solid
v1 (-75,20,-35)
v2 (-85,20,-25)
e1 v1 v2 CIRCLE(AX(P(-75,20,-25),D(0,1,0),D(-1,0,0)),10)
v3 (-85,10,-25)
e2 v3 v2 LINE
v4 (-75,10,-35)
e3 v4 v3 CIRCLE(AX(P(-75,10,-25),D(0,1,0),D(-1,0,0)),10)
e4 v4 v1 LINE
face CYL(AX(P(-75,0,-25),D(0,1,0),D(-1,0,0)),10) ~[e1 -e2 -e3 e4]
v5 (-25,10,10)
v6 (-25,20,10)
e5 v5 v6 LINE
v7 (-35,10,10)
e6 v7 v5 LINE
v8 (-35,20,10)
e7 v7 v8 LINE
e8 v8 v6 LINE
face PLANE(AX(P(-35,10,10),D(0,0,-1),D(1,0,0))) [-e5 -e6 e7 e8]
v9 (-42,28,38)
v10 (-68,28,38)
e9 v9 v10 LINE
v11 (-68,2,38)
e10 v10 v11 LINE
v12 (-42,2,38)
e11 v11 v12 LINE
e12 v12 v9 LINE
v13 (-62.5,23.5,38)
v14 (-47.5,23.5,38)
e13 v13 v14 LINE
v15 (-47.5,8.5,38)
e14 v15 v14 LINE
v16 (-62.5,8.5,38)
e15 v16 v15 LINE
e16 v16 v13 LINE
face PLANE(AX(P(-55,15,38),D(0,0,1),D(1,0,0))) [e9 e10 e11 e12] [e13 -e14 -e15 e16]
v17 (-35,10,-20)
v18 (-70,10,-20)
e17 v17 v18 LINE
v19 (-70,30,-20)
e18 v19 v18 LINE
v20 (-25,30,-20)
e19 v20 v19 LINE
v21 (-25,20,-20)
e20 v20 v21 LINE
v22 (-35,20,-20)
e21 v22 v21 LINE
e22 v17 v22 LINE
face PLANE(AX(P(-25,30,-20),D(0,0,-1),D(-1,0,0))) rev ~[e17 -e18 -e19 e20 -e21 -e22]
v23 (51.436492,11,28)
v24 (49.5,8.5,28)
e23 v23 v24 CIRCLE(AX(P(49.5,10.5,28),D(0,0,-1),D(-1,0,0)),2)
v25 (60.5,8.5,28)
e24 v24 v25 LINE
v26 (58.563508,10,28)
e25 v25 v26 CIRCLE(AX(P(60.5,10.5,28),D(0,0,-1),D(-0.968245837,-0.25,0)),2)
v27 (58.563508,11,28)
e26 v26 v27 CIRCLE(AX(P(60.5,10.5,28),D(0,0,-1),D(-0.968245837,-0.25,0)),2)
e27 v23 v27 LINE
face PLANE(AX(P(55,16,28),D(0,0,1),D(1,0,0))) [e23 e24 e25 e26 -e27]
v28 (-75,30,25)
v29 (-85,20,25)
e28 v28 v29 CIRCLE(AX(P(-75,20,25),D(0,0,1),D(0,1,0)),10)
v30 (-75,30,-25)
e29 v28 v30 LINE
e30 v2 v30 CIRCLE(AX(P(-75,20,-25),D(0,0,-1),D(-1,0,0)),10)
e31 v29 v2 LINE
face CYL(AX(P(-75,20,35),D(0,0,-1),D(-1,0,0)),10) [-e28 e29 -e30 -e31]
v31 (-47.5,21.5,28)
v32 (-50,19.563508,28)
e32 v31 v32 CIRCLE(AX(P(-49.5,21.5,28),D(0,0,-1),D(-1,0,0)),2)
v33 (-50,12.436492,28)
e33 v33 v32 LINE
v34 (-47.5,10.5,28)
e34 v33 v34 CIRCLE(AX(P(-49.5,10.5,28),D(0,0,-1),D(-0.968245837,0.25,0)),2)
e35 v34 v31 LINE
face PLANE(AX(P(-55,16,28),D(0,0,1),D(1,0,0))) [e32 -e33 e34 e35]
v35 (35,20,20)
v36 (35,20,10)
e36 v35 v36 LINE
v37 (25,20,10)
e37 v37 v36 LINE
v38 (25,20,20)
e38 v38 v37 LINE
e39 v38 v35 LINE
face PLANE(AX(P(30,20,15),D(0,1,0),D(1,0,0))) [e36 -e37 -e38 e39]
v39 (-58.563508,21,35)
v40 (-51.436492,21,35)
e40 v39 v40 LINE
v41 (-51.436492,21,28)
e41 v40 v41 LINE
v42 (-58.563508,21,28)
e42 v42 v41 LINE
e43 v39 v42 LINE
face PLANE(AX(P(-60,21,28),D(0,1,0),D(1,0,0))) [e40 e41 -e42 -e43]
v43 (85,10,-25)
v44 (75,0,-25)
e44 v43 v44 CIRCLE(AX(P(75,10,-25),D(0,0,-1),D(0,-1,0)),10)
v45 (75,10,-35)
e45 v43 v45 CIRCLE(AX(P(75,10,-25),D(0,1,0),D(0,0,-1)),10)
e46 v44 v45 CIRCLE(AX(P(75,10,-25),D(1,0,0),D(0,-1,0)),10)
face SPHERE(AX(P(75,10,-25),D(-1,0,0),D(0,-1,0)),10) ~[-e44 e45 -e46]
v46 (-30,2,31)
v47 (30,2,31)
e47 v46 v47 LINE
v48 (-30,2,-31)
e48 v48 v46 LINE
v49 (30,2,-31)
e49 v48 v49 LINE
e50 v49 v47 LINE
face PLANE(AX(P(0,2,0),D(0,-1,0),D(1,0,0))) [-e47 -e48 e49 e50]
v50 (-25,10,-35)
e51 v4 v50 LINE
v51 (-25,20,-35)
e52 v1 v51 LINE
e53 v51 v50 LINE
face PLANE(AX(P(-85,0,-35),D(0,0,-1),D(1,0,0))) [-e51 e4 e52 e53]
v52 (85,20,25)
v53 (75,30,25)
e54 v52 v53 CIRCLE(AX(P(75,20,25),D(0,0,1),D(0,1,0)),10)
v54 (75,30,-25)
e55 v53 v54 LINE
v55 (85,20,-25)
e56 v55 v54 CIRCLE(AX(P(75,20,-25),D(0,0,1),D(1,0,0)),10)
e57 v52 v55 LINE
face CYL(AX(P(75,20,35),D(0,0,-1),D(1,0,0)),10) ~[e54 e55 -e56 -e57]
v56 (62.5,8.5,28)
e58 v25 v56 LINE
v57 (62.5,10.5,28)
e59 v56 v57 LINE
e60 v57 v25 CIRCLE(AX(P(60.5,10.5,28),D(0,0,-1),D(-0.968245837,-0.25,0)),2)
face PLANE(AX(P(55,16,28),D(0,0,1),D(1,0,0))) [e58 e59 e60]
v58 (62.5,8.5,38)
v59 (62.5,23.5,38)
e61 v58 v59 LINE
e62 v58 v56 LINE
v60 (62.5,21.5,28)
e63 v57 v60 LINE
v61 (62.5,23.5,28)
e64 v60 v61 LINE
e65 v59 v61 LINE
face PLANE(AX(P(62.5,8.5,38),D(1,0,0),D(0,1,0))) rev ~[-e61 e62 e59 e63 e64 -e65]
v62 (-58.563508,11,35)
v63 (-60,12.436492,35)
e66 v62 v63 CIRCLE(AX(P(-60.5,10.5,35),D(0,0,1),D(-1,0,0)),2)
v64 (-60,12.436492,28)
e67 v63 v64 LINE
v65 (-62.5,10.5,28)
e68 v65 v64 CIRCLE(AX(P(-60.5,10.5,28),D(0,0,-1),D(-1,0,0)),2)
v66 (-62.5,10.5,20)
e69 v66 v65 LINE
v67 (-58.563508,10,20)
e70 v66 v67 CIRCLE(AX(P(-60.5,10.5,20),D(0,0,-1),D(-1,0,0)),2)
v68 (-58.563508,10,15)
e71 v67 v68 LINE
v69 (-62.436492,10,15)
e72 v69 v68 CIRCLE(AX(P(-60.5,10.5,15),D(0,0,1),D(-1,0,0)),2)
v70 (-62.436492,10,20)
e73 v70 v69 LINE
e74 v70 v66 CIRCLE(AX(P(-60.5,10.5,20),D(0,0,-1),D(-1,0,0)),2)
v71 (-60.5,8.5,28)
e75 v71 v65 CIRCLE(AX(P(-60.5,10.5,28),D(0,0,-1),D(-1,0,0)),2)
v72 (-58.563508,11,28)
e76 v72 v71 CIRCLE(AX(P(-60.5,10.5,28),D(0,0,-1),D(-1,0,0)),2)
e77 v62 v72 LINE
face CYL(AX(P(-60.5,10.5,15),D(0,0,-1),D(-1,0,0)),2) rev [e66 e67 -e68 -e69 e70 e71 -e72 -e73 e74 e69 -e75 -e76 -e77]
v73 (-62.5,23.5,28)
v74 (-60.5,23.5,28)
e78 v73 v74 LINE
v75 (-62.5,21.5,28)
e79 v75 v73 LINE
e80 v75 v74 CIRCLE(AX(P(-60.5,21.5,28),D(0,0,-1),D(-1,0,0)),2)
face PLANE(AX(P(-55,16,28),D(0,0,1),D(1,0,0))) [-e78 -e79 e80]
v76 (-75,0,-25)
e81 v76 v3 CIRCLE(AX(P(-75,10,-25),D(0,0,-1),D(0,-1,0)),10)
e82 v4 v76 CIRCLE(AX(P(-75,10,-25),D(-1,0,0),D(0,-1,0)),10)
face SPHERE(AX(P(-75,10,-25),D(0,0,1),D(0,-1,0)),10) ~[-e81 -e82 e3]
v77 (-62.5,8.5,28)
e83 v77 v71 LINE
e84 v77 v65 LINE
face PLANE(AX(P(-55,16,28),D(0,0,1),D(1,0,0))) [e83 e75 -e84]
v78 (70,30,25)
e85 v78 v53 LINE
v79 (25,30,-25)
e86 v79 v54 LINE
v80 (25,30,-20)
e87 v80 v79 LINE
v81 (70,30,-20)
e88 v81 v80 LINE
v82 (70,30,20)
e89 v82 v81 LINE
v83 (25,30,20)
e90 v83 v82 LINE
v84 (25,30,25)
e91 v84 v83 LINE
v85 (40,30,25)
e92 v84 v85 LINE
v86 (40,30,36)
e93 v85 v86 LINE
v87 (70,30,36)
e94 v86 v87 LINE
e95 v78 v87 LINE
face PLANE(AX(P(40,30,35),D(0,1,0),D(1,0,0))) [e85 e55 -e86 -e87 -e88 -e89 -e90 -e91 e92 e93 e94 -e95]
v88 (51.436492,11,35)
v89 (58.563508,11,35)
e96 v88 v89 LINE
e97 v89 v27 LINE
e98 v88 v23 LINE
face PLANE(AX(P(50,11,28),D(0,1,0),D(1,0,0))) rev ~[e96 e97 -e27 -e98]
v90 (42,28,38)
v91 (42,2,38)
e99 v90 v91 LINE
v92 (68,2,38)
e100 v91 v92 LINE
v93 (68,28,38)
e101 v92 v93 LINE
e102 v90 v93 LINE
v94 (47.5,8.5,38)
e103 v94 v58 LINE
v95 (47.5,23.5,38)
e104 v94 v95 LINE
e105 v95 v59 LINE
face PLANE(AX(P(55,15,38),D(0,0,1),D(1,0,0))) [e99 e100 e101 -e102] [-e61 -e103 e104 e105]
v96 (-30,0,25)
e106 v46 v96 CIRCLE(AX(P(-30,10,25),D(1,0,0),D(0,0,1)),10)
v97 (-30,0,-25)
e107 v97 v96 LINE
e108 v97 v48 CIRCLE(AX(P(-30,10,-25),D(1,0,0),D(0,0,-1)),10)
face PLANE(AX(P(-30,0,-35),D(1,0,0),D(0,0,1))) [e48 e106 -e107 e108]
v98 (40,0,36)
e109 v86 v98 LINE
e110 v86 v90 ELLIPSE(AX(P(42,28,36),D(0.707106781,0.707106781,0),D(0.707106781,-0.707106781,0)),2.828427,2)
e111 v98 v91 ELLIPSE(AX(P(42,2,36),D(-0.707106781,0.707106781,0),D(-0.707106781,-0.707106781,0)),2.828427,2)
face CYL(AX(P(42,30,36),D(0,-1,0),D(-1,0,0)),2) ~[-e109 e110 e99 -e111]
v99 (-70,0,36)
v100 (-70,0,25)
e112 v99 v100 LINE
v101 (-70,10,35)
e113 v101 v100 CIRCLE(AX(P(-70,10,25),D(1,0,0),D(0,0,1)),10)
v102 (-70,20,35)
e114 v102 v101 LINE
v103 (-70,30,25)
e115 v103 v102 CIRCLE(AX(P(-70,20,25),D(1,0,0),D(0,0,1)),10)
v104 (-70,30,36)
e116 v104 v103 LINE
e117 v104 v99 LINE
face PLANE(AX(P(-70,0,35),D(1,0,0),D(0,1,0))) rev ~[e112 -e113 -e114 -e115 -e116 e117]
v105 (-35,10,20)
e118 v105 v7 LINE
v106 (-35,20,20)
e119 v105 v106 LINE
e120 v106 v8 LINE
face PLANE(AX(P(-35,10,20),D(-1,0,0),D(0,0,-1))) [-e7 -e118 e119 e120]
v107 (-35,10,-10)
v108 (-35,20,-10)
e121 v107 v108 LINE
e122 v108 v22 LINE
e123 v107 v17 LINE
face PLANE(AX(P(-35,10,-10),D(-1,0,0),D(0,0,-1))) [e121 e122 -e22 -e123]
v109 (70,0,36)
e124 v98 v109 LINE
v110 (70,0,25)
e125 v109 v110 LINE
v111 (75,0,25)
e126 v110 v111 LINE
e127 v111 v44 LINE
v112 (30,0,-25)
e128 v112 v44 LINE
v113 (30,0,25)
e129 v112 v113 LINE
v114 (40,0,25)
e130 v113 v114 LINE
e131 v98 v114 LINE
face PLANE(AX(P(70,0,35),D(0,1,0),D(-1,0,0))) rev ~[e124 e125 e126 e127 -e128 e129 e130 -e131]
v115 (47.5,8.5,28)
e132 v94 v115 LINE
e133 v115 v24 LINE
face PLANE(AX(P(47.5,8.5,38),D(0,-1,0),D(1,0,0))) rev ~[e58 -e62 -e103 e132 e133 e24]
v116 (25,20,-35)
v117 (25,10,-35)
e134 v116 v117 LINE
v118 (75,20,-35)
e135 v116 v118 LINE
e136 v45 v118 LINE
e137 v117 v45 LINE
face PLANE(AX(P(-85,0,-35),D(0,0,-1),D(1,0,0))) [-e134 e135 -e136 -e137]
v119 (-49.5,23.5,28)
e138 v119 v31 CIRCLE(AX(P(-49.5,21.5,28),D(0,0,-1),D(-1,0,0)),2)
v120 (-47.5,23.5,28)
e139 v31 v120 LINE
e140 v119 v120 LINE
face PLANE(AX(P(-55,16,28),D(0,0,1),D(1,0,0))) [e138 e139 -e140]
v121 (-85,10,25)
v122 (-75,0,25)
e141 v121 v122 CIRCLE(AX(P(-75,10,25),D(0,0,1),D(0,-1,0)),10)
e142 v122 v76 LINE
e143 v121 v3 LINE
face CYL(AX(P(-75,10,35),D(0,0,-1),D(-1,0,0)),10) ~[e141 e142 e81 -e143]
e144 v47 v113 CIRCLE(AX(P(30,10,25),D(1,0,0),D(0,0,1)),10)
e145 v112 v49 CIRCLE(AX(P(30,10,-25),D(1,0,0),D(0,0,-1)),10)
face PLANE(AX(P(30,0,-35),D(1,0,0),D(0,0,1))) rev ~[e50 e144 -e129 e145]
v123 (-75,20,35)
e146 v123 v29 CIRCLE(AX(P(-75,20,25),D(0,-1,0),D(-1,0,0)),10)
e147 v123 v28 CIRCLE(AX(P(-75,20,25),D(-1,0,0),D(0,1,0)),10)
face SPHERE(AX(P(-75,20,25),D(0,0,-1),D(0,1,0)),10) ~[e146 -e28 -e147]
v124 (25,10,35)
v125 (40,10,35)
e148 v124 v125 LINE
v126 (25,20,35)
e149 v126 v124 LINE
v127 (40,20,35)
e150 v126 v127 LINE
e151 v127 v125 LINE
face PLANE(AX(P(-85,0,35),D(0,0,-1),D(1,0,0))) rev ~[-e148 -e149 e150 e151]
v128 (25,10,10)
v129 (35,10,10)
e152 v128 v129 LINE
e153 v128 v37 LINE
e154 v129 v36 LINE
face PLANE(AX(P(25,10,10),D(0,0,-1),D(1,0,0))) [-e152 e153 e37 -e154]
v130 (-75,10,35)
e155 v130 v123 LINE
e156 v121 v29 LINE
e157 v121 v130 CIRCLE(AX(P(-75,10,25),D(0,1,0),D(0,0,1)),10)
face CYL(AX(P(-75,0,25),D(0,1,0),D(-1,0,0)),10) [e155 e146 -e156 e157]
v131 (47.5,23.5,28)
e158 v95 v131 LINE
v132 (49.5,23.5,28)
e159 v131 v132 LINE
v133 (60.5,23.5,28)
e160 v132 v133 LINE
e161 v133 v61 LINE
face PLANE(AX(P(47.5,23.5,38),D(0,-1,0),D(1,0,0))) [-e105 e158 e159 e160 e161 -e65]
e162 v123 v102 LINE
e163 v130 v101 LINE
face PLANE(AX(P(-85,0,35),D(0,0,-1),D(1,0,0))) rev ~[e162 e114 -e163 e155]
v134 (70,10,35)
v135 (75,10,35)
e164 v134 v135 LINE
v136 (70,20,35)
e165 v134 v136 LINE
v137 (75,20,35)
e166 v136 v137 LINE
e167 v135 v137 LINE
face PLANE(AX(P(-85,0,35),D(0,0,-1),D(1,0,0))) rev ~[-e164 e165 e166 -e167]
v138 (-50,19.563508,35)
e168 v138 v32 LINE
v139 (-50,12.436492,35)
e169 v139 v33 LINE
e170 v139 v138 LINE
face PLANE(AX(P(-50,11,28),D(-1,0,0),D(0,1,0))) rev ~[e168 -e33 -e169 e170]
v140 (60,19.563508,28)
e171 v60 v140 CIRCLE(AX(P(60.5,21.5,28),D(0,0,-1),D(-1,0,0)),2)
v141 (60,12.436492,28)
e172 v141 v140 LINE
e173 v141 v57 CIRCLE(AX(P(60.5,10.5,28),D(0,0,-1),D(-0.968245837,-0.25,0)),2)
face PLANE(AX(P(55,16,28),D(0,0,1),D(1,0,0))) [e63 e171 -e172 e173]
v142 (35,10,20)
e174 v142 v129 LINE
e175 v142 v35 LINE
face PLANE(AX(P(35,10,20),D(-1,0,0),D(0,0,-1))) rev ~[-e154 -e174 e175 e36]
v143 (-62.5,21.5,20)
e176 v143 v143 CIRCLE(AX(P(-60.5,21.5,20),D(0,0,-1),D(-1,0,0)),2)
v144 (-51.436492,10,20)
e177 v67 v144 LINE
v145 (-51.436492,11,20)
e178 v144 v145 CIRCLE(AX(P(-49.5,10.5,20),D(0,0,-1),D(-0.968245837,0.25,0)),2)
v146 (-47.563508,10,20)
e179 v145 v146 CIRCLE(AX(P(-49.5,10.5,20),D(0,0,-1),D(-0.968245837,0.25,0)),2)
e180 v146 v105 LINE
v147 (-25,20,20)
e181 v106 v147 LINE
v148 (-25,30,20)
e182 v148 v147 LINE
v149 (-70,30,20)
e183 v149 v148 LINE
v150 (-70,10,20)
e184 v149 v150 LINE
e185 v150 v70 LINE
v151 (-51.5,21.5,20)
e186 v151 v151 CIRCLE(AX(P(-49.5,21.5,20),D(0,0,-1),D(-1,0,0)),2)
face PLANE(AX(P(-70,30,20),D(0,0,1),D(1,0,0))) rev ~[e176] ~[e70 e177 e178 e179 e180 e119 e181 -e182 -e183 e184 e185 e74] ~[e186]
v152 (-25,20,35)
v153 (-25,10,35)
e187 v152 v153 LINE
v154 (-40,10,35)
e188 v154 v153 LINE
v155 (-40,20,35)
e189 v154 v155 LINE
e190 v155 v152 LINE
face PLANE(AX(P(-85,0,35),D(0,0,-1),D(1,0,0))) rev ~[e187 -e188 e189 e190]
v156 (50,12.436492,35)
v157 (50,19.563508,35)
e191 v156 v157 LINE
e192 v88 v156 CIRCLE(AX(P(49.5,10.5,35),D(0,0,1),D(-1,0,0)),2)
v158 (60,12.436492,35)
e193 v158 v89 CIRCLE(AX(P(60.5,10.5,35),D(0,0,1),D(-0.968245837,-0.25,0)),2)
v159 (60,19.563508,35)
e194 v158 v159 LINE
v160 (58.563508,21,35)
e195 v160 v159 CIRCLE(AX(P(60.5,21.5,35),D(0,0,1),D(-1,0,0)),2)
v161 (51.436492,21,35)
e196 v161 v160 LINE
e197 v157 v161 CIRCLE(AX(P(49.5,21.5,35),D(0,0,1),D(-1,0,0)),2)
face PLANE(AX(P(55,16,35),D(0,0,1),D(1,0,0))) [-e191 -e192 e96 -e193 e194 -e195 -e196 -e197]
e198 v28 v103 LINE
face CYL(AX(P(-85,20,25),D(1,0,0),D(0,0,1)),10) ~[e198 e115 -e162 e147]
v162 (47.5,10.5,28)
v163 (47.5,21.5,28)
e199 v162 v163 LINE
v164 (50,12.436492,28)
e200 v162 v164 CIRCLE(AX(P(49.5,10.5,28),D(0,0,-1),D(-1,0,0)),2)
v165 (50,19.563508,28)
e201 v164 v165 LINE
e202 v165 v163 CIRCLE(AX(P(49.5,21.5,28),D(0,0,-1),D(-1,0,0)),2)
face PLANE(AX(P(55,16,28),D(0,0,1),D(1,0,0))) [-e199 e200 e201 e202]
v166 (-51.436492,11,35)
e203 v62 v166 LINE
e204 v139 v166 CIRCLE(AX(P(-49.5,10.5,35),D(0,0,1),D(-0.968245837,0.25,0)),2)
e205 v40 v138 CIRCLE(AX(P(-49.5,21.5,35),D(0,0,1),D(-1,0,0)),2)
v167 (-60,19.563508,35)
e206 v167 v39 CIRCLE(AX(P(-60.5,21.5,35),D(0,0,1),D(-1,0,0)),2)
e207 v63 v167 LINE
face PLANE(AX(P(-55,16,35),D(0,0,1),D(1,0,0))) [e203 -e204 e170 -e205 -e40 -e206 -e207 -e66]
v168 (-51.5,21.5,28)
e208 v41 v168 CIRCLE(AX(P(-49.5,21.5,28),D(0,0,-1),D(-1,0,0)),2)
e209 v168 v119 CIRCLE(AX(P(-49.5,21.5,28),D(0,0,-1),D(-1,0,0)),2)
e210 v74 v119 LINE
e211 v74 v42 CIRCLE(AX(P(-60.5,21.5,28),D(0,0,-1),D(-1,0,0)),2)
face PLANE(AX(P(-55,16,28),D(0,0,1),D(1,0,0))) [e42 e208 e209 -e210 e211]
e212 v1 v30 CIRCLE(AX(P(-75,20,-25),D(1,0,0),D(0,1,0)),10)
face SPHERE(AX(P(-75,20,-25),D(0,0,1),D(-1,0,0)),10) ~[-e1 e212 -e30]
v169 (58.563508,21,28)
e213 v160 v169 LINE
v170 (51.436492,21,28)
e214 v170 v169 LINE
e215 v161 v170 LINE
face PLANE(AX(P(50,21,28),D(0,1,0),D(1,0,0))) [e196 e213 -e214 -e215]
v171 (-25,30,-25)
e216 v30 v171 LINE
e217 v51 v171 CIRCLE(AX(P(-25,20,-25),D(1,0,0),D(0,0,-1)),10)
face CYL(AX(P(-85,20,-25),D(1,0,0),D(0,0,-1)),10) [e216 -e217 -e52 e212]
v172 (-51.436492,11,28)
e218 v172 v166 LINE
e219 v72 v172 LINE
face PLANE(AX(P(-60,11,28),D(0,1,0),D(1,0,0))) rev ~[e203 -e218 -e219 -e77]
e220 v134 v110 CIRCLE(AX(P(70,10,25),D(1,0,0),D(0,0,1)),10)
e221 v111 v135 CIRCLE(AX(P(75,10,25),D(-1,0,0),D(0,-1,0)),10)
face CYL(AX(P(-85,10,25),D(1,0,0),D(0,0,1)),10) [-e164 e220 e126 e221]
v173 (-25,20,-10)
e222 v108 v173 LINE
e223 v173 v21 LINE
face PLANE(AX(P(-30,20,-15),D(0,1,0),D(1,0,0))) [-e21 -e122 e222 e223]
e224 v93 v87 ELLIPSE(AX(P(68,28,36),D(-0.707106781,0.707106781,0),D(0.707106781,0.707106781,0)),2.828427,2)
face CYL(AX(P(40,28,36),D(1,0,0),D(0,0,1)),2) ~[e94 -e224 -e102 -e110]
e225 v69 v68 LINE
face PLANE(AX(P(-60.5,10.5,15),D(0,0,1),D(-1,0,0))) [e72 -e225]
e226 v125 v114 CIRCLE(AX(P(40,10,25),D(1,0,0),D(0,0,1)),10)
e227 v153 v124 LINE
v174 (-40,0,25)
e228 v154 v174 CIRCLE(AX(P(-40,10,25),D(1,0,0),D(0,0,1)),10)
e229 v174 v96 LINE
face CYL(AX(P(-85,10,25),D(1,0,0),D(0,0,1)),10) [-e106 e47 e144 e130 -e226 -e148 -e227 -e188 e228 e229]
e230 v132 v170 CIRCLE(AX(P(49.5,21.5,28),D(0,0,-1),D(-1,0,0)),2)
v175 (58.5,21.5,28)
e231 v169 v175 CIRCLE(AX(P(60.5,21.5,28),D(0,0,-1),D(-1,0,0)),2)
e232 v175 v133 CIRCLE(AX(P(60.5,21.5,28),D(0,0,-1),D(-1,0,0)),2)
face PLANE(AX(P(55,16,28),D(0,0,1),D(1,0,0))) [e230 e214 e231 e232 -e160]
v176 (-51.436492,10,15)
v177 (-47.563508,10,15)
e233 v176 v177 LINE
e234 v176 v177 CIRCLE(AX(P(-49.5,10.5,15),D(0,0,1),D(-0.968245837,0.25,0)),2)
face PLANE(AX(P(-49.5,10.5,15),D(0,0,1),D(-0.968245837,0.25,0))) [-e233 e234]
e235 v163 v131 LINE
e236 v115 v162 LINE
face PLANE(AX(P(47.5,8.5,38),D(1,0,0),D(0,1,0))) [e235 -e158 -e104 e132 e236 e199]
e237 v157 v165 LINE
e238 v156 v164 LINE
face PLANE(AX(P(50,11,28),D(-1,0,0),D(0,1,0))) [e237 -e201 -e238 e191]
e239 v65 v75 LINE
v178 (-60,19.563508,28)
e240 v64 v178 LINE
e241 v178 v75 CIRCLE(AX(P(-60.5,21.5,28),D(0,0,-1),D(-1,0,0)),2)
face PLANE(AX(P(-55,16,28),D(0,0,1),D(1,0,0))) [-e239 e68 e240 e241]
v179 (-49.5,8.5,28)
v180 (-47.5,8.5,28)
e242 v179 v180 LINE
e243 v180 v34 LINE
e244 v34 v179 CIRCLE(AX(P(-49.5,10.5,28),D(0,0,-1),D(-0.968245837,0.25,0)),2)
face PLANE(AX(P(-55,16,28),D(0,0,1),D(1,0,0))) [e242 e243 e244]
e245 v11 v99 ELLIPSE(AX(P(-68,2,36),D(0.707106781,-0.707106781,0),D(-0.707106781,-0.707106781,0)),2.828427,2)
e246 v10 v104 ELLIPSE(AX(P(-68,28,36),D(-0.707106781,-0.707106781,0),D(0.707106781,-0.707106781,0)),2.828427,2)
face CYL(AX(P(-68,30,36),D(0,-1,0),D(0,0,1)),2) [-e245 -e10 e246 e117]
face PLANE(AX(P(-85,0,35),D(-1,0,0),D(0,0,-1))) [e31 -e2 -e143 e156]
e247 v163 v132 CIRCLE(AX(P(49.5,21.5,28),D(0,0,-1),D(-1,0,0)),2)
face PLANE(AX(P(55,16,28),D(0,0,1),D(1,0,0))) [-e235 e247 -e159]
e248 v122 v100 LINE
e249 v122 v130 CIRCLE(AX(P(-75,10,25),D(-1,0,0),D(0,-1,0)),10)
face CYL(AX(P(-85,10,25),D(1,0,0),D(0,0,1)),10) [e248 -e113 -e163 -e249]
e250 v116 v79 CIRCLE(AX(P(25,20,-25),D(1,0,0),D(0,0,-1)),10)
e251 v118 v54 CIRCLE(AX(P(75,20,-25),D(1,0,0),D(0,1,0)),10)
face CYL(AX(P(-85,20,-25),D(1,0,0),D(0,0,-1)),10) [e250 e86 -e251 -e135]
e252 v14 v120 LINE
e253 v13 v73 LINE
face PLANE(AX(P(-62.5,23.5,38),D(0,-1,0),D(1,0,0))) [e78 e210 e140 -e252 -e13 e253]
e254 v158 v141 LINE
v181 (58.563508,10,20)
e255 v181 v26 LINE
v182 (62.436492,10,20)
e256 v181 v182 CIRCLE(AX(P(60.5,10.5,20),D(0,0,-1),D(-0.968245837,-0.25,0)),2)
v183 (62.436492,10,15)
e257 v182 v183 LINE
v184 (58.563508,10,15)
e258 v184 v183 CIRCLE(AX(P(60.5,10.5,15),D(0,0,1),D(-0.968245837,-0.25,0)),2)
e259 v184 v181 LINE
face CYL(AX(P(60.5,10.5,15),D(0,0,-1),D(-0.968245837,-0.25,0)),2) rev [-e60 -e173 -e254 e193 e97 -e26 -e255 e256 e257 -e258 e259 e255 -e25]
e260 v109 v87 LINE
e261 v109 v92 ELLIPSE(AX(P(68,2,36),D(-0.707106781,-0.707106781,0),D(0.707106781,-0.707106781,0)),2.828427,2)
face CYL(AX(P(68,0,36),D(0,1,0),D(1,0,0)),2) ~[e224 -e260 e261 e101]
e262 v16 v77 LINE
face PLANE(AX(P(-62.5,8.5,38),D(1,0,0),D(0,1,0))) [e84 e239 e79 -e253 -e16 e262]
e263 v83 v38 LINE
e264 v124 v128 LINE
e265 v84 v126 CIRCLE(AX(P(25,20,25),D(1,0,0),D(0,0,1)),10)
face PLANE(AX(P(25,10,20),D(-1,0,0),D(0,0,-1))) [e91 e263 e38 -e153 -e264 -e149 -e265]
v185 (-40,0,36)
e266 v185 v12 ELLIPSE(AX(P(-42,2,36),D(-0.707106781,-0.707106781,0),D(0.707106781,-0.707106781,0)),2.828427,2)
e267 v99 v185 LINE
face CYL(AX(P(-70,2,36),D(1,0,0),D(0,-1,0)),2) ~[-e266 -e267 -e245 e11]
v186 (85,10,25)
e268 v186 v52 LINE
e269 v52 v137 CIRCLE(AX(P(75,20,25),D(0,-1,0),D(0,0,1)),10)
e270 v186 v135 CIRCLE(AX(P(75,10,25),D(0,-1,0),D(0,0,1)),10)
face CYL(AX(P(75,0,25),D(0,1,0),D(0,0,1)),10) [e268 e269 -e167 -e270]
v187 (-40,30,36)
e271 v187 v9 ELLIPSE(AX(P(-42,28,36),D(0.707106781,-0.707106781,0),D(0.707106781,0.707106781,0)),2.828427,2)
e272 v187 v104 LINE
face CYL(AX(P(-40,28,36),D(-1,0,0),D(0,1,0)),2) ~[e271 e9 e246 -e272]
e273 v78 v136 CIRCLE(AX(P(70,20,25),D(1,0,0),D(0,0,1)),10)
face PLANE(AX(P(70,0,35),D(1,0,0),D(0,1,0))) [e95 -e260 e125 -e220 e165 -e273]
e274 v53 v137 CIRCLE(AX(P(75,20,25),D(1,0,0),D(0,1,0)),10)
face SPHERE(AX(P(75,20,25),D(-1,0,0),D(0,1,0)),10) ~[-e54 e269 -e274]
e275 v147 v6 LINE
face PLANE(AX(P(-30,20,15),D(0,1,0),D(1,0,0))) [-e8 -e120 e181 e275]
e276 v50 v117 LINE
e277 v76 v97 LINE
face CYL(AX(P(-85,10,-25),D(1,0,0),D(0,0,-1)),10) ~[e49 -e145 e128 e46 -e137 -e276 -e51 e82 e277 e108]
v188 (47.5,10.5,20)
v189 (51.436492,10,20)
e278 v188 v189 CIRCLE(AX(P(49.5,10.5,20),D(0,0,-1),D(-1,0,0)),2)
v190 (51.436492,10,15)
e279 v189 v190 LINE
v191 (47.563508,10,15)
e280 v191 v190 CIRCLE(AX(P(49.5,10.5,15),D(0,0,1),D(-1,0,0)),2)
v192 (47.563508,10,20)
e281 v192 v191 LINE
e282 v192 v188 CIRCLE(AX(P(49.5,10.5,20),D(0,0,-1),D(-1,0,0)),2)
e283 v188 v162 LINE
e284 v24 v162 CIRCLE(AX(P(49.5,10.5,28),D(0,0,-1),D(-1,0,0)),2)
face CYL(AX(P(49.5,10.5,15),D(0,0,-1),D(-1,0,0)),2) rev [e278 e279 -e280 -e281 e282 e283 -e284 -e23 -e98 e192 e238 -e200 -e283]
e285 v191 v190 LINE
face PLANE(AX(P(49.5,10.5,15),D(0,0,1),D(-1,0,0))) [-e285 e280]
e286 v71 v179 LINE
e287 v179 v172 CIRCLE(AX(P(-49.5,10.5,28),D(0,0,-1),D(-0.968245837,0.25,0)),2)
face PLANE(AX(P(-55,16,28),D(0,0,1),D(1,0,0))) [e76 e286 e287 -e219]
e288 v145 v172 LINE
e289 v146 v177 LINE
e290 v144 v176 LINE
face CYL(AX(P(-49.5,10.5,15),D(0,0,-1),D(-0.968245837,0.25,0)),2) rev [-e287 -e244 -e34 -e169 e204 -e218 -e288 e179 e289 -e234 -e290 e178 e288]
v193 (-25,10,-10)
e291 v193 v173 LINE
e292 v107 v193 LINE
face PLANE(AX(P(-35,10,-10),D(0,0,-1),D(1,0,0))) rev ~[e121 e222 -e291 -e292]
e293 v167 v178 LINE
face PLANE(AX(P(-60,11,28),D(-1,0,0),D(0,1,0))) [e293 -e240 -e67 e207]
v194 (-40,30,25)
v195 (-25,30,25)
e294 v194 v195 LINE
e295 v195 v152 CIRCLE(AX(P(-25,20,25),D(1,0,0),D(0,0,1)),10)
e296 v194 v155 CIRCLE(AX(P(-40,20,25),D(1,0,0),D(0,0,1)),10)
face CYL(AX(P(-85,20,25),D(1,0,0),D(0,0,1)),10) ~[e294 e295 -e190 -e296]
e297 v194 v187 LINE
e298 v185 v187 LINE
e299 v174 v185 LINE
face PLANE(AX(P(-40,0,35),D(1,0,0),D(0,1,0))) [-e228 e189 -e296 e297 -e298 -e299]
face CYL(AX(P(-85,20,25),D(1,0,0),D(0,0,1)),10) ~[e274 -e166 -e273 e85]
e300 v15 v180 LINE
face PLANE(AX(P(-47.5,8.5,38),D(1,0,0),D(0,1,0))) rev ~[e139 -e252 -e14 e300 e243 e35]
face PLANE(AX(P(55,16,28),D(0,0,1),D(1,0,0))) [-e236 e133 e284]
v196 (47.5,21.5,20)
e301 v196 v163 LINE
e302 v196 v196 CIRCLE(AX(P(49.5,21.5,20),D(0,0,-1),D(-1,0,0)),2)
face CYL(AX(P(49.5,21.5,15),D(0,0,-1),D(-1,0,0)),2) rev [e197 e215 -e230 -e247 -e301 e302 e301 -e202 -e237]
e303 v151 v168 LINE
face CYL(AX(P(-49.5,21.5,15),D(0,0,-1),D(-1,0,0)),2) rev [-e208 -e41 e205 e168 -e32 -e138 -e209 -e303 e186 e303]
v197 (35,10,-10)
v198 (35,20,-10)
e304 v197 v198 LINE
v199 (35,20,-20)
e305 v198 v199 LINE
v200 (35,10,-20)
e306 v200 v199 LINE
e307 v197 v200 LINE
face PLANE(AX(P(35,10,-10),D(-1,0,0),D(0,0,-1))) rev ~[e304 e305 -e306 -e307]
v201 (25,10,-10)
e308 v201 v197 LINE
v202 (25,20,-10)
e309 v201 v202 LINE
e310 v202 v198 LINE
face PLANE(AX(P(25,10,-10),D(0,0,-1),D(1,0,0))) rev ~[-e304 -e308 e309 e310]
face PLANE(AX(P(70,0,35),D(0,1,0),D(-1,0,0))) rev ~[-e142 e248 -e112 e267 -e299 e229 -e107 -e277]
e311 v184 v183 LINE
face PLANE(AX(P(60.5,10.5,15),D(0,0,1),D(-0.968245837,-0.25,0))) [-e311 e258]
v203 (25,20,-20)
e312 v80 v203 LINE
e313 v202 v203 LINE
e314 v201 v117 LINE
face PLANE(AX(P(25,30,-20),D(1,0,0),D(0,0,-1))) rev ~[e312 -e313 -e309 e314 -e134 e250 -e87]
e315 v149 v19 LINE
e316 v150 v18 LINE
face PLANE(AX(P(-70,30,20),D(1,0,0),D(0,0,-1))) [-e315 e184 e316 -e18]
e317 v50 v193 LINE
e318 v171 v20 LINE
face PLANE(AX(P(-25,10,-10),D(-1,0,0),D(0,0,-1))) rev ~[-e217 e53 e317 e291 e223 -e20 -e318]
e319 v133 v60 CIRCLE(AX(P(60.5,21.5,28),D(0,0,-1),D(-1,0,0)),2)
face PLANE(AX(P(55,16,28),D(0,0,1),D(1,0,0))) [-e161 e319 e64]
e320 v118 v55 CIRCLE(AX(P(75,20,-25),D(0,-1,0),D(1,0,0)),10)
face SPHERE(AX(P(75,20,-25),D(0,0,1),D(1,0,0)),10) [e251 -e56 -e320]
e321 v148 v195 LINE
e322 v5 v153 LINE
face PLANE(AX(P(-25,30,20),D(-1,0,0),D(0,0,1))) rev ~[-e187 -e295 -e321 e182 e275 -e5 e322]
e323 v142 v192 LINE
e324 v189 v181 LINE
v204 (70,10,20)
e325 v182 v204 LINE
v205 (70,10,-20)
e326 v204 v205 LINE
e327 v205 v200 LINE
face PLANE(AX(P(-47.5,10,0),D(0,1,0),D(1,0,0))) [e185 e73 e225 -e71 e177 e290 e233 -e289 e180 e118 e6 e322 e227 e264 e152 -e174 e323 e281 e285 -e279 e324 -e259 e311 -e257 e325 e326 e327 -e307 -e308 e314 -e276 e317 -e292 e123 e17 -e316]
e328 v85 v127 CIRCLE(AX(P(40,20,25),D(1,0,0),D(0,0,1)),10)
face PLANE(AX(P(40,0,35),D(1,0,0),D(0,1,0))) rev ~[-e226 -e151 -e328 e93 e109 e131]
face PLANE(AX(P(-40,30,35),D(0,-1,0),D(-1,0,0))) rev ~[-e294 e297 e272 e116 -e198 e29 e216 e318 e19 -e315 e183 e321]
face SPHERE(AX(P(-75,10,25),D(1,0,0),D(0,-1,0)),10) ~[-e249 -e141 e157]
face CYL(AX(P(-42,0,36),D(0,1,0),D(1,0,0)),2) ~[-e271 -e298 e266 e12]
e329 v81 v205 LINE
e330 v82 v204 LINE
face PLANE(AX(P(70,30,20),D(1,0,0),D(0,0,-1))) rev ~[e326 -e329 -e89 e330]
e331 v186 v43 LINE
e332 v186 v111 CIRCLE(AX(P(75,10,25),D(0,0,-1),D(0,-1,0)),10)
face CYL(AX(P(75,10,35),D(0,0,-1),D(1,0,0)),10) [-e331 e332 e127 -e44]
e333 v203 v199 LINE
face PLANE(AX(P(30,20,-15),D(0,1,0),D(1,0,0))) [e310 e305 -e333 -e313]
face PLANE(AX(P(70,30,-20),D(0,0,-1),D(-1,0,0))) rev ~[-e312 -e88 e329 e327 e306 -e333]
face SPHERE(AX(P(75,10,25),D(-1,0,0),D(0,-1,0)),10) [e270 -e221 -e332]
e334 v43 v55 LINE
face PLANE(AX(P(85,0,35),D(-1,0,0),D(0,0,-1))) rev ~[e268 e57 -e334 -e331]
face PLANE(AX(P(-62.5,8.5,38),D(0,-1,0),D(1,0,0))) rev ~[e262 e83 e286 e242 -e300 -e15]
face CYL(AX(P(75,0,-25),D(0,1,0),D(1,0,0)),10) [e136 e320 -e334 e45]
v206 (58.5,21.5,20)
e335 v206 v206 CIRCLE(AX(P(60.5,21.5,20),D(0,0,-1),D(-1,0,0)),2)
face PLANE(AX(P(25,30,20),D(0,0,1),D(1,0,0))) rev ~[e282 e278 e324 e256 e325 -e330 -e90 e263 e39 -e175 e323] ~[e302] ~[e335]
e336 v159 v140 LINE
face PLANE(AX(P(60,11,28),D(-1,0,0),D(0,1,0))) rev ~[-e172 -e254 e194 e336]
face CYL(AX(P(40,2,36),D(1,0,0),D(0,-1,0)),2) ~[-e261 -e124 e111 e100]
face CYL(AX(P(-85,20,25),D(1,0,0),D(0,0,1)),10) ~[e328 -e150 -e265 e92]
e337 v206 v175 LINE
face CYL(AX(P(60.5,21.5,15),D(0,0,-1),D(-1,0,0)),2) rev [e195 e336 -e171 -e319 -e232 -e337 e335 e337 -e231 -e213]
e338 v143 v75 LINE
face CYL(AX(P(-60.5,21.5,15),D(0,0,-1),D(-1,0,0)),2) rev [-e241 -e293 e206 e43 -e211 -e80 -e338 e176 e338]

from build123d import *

# Parameters (mm, degrees)
SKETCH1_W               = 170
SKETCH1_H               = 70
BOSS_EXTRUDE1_DEPTH     = 30
FILLET1_R               = 10
SKETCH2_W               = 45
SKETCH2_H               = 40
SKETCH2_W_2             = 50
SKETCH2_H_2             = 10
SKETCH2_H_3             = 5
CUT_EXTRUDE1_DEPTH      = 20
SKETCH3_W               = 10
SKETCH3_H               = 10
BOSS_EXTRUDE2_DEPTH     = 10
SKETCH4_W               = 30
SKETCH4_H               = 10
BOSS_EXTRUDE3_DEPTH     = 3
SKETCH5_W               = 30
SKETCH5_H               = 30
BOSS_EXTRUDE4_DEPTH     = 10
FILLET2_R               = 2
SKETCH6_W               = 15
SKETCH6_H               = 15
CUT_EXTRUDE2_DEPTH      = 10
SKETCH7_W               = 10
SKETCH7_H               = 10
BOSS_EXTRUDE5_DEPTH     = 7
CUT_EXTRUDE3_DEPTH      = 7
CUT_EXTRUDE3_DEPTH_BACK = 13
SKETCH8_R               = 2
SKETCH9_W               = 60
SKETCH9_H               = 70
CUT_EXTRUDE4_DEPTH      = 2


with BuildPart() as part:
    # Sketch1 → Boss-Extrude1 (new body)
    with BuildSketch(Plane(origin=(0, 0, 0), x_dir=(1, 0, 0), z_dir=(0, 1, 0))):
        Rectangle(SKETCH1_W, SKETCH1_H)
    extrude(amount=BOSS_EXTRUDE1_DEPTH)

    # Fillet1
    fillet1_edges = [part.edges().sort_by_distance(p)[0] for p in [
        (-85, 30, 0),
        (0, 30, 35),
        (85, 30, 0),
        (0, 0, 35),
        (-85, 0, 0),
        (0, 0, -35),
        (85, 0, 0),
        (85, 15, 35),
        (-85, 15, 35),
        (-85, 15, -35),
        (85, 15, -35),
        (0, 30, -35),
    ]]
    fillet(fillet1_edges, radius=FILLET1_R)

    # Sketch2 → Cut-Extrude1 (cut)
    with BuildSketch(Plane(origin=(0, 30, 0), x_dir=(1, 0, 0), z_dir=(0, 1, 0))):
        with Locations((-47.5, 0)):
            Rectangle(SKETCH2_W, SKETCH2_H)
        Rectangle(SKETCH2_W_2, SKETCH2_H)
        with Locations((47.5, 0)):
            Rectangle(SKETCH2_W, SKETCH2_H)
        with Locations((0, 30)):
            Rectangle(SKETCH2_W_2, SKETCH2_H_2)
        with Locations((0, 22.5)):
            Rectangle(SKETCH2_W_2, SKETCH2_H_3)
        with Locations((0, -30)):
            Rectangle(SKETCH2_W_2, SKETCH2_H_2)
        with Locations((0, -22.5)):
            Rectangle(SKETCH2_W_2, SKETCH2_H_3)
    extrude(amount=-CUT_EXTRUDE1_DEPTH, mode=Mode.SUBTRACT)

    # Sketch3 → Boss-Extrude2 (add)
    with BuildSketch(Plane(origin=(0, 10, 0), x_dir=(1, 0, 0), z_dir=(0, 1, 0))):
        with Locations((-30, 15)):
            Rectangle(SKETCH3_W, SKETCH3_H)
        with Locations((30, 15)):
            Rectangle(SKETCH3_W, SKETCH3_H)
        with Locations((30, -15)):
            Rectangle(SKETCH3_W, SKETCH3_H)
        with Locations((-30, -15)):
            Rectangle(SKETCH3_W, SKETCH3_H)
    extrude(amount=BOSS_EXTRUDE2_DEPTH)

    # Sketch4 → Boss-Extrude3 (add)
    with BuildSketch(Plane.XY.offset(35)):
        Polygon((-40, 30), (-68.080792204, 30), (-70, 30), (-70, 0), (-40, 0), align=None)
        with Locations((55, 15)):
            Rectangle(SKETCH4_W, SKETCH4_H)
        with Locations((55, 25)):
            Rectangle(SKETCH4_W, SKETCH4_H)
        with Locations((55, 5)):
            Rectangle(SKETCH4_W, SKETCH4_H)
    extrude(amount=BOSS_EXTRUDE3_DEPTH)

    # Sketch5 → Boss-Extrude4 (add)
    with BuildSketch(Plane(origin=(0, 0, 35), x_dir=(-1, 0, 0), z_dir=(0, 0, -1))):
        with Locations((-55, 15)):
            Rectangle(SKETCH5_W, SKETCH5_H)
        with Locations((55, 15)):
            Rectangle(SKETCH5_W, SKETCH5_H)
    extrude(amount=BOSS_EXTRUDE4_DEPTH)

    # Fillet2
    fillet2_edges = [part.edges().sort_by_distance(p)[0] for p in [
        (-70, 15, 38),
        (-55, 0, 38),
        (-40, 15, 38),
        (-55, 30, 38),
        (40, 15, 38),
        (55, 30, 38),
        (55, 0, 38),
        (70, 15, 38),
    ]]
    fillet(fillet2_edges, radius=FILLET2_R)

    # Sketch6 → Cut-Extrude2 (cut)
    with BuildSketch(Plane.XY.offset(38)):
        with Locations((-55, 16)):
            Rectangle(SKETCH6_W, SKETCH6_H)
        with Locations((55, 16)):
            Rectangle(SKETCH6_W, SKETCH6_H)
    extrude(amount=-CUT_EXTRUDE2_DEPTH, mode=Mode.SUBTRACT)

    # Sketch7 → Boss-Extrude5 (add)
    with BuildSketch(Plane.XY.offset(28)):
        with Locations((-55, 16)):
            Rectangle(SKETCH7_W, SKETCH7_H)
        with Locations((55, 16)):
            Rectangle(SKETCH7_W, SKETCH7_H)
    extrude(amount=BOSS_EXTRUDE5_DEPTH)

    # Sketch8 → Cut-Extrude3 (cut, two sides: drawn at the far end of the back side and taken through both)
    with BuildSketch(Plane.XY.offset(28).offset(-CUT_EXTRUDE3_DEPTH_BACK)):
        with Locations(Location((49.5, 21.5, 0), (0, 0, 180))):
            Circle(SKETCH8_R)
        with Locations(Location((49.5, 10.5, 0), (0, 0, 180))):
            Circle(SKETCH8_R)
        with Locations(Location((60.5, 21.5, 0), (0, 0, 180))):
            Circle(SKETCH8_R)
        with Locations(Location((60.5, 10.5, 0), (0, 0, 194.477512186))):
            Circle(SKETCH8_R)
        with Locations(Location((-60.5, 10.5, 0), (0, 0, 180))):
            Circle(SKETCH8_R)
        with Locations(Location((-49.5, 10.5, 0), (0, 0, 165.522487814))):
            Circle(SKETCH8_R)
        with Locations(Location((-60.5, 21.5, 0), (0, 0, 180))):
            Circle(SKETCH8_R)
        with Locations(Location((-49.5, 21.5, 0), (0, 0, 180))):
            Circle(SKETCH8_R)
    extrude(amount=CUT_EXTRUDE3_DEPTH + CUT_EXTRUDE3_DEPTH_BACK, mode=Mode.SUBTRACT)

    # Sketch9 → Cut-Extrude4 (cut)
    with BuildSketch(Plane.XZ):
        Rectangle(SKETCH9_W, SKETCH9_H)
    extrude(amount=-CUT_EXTRUDE4_DEPTH, mode=Mode.SUBTRACT)


solid = part.part
